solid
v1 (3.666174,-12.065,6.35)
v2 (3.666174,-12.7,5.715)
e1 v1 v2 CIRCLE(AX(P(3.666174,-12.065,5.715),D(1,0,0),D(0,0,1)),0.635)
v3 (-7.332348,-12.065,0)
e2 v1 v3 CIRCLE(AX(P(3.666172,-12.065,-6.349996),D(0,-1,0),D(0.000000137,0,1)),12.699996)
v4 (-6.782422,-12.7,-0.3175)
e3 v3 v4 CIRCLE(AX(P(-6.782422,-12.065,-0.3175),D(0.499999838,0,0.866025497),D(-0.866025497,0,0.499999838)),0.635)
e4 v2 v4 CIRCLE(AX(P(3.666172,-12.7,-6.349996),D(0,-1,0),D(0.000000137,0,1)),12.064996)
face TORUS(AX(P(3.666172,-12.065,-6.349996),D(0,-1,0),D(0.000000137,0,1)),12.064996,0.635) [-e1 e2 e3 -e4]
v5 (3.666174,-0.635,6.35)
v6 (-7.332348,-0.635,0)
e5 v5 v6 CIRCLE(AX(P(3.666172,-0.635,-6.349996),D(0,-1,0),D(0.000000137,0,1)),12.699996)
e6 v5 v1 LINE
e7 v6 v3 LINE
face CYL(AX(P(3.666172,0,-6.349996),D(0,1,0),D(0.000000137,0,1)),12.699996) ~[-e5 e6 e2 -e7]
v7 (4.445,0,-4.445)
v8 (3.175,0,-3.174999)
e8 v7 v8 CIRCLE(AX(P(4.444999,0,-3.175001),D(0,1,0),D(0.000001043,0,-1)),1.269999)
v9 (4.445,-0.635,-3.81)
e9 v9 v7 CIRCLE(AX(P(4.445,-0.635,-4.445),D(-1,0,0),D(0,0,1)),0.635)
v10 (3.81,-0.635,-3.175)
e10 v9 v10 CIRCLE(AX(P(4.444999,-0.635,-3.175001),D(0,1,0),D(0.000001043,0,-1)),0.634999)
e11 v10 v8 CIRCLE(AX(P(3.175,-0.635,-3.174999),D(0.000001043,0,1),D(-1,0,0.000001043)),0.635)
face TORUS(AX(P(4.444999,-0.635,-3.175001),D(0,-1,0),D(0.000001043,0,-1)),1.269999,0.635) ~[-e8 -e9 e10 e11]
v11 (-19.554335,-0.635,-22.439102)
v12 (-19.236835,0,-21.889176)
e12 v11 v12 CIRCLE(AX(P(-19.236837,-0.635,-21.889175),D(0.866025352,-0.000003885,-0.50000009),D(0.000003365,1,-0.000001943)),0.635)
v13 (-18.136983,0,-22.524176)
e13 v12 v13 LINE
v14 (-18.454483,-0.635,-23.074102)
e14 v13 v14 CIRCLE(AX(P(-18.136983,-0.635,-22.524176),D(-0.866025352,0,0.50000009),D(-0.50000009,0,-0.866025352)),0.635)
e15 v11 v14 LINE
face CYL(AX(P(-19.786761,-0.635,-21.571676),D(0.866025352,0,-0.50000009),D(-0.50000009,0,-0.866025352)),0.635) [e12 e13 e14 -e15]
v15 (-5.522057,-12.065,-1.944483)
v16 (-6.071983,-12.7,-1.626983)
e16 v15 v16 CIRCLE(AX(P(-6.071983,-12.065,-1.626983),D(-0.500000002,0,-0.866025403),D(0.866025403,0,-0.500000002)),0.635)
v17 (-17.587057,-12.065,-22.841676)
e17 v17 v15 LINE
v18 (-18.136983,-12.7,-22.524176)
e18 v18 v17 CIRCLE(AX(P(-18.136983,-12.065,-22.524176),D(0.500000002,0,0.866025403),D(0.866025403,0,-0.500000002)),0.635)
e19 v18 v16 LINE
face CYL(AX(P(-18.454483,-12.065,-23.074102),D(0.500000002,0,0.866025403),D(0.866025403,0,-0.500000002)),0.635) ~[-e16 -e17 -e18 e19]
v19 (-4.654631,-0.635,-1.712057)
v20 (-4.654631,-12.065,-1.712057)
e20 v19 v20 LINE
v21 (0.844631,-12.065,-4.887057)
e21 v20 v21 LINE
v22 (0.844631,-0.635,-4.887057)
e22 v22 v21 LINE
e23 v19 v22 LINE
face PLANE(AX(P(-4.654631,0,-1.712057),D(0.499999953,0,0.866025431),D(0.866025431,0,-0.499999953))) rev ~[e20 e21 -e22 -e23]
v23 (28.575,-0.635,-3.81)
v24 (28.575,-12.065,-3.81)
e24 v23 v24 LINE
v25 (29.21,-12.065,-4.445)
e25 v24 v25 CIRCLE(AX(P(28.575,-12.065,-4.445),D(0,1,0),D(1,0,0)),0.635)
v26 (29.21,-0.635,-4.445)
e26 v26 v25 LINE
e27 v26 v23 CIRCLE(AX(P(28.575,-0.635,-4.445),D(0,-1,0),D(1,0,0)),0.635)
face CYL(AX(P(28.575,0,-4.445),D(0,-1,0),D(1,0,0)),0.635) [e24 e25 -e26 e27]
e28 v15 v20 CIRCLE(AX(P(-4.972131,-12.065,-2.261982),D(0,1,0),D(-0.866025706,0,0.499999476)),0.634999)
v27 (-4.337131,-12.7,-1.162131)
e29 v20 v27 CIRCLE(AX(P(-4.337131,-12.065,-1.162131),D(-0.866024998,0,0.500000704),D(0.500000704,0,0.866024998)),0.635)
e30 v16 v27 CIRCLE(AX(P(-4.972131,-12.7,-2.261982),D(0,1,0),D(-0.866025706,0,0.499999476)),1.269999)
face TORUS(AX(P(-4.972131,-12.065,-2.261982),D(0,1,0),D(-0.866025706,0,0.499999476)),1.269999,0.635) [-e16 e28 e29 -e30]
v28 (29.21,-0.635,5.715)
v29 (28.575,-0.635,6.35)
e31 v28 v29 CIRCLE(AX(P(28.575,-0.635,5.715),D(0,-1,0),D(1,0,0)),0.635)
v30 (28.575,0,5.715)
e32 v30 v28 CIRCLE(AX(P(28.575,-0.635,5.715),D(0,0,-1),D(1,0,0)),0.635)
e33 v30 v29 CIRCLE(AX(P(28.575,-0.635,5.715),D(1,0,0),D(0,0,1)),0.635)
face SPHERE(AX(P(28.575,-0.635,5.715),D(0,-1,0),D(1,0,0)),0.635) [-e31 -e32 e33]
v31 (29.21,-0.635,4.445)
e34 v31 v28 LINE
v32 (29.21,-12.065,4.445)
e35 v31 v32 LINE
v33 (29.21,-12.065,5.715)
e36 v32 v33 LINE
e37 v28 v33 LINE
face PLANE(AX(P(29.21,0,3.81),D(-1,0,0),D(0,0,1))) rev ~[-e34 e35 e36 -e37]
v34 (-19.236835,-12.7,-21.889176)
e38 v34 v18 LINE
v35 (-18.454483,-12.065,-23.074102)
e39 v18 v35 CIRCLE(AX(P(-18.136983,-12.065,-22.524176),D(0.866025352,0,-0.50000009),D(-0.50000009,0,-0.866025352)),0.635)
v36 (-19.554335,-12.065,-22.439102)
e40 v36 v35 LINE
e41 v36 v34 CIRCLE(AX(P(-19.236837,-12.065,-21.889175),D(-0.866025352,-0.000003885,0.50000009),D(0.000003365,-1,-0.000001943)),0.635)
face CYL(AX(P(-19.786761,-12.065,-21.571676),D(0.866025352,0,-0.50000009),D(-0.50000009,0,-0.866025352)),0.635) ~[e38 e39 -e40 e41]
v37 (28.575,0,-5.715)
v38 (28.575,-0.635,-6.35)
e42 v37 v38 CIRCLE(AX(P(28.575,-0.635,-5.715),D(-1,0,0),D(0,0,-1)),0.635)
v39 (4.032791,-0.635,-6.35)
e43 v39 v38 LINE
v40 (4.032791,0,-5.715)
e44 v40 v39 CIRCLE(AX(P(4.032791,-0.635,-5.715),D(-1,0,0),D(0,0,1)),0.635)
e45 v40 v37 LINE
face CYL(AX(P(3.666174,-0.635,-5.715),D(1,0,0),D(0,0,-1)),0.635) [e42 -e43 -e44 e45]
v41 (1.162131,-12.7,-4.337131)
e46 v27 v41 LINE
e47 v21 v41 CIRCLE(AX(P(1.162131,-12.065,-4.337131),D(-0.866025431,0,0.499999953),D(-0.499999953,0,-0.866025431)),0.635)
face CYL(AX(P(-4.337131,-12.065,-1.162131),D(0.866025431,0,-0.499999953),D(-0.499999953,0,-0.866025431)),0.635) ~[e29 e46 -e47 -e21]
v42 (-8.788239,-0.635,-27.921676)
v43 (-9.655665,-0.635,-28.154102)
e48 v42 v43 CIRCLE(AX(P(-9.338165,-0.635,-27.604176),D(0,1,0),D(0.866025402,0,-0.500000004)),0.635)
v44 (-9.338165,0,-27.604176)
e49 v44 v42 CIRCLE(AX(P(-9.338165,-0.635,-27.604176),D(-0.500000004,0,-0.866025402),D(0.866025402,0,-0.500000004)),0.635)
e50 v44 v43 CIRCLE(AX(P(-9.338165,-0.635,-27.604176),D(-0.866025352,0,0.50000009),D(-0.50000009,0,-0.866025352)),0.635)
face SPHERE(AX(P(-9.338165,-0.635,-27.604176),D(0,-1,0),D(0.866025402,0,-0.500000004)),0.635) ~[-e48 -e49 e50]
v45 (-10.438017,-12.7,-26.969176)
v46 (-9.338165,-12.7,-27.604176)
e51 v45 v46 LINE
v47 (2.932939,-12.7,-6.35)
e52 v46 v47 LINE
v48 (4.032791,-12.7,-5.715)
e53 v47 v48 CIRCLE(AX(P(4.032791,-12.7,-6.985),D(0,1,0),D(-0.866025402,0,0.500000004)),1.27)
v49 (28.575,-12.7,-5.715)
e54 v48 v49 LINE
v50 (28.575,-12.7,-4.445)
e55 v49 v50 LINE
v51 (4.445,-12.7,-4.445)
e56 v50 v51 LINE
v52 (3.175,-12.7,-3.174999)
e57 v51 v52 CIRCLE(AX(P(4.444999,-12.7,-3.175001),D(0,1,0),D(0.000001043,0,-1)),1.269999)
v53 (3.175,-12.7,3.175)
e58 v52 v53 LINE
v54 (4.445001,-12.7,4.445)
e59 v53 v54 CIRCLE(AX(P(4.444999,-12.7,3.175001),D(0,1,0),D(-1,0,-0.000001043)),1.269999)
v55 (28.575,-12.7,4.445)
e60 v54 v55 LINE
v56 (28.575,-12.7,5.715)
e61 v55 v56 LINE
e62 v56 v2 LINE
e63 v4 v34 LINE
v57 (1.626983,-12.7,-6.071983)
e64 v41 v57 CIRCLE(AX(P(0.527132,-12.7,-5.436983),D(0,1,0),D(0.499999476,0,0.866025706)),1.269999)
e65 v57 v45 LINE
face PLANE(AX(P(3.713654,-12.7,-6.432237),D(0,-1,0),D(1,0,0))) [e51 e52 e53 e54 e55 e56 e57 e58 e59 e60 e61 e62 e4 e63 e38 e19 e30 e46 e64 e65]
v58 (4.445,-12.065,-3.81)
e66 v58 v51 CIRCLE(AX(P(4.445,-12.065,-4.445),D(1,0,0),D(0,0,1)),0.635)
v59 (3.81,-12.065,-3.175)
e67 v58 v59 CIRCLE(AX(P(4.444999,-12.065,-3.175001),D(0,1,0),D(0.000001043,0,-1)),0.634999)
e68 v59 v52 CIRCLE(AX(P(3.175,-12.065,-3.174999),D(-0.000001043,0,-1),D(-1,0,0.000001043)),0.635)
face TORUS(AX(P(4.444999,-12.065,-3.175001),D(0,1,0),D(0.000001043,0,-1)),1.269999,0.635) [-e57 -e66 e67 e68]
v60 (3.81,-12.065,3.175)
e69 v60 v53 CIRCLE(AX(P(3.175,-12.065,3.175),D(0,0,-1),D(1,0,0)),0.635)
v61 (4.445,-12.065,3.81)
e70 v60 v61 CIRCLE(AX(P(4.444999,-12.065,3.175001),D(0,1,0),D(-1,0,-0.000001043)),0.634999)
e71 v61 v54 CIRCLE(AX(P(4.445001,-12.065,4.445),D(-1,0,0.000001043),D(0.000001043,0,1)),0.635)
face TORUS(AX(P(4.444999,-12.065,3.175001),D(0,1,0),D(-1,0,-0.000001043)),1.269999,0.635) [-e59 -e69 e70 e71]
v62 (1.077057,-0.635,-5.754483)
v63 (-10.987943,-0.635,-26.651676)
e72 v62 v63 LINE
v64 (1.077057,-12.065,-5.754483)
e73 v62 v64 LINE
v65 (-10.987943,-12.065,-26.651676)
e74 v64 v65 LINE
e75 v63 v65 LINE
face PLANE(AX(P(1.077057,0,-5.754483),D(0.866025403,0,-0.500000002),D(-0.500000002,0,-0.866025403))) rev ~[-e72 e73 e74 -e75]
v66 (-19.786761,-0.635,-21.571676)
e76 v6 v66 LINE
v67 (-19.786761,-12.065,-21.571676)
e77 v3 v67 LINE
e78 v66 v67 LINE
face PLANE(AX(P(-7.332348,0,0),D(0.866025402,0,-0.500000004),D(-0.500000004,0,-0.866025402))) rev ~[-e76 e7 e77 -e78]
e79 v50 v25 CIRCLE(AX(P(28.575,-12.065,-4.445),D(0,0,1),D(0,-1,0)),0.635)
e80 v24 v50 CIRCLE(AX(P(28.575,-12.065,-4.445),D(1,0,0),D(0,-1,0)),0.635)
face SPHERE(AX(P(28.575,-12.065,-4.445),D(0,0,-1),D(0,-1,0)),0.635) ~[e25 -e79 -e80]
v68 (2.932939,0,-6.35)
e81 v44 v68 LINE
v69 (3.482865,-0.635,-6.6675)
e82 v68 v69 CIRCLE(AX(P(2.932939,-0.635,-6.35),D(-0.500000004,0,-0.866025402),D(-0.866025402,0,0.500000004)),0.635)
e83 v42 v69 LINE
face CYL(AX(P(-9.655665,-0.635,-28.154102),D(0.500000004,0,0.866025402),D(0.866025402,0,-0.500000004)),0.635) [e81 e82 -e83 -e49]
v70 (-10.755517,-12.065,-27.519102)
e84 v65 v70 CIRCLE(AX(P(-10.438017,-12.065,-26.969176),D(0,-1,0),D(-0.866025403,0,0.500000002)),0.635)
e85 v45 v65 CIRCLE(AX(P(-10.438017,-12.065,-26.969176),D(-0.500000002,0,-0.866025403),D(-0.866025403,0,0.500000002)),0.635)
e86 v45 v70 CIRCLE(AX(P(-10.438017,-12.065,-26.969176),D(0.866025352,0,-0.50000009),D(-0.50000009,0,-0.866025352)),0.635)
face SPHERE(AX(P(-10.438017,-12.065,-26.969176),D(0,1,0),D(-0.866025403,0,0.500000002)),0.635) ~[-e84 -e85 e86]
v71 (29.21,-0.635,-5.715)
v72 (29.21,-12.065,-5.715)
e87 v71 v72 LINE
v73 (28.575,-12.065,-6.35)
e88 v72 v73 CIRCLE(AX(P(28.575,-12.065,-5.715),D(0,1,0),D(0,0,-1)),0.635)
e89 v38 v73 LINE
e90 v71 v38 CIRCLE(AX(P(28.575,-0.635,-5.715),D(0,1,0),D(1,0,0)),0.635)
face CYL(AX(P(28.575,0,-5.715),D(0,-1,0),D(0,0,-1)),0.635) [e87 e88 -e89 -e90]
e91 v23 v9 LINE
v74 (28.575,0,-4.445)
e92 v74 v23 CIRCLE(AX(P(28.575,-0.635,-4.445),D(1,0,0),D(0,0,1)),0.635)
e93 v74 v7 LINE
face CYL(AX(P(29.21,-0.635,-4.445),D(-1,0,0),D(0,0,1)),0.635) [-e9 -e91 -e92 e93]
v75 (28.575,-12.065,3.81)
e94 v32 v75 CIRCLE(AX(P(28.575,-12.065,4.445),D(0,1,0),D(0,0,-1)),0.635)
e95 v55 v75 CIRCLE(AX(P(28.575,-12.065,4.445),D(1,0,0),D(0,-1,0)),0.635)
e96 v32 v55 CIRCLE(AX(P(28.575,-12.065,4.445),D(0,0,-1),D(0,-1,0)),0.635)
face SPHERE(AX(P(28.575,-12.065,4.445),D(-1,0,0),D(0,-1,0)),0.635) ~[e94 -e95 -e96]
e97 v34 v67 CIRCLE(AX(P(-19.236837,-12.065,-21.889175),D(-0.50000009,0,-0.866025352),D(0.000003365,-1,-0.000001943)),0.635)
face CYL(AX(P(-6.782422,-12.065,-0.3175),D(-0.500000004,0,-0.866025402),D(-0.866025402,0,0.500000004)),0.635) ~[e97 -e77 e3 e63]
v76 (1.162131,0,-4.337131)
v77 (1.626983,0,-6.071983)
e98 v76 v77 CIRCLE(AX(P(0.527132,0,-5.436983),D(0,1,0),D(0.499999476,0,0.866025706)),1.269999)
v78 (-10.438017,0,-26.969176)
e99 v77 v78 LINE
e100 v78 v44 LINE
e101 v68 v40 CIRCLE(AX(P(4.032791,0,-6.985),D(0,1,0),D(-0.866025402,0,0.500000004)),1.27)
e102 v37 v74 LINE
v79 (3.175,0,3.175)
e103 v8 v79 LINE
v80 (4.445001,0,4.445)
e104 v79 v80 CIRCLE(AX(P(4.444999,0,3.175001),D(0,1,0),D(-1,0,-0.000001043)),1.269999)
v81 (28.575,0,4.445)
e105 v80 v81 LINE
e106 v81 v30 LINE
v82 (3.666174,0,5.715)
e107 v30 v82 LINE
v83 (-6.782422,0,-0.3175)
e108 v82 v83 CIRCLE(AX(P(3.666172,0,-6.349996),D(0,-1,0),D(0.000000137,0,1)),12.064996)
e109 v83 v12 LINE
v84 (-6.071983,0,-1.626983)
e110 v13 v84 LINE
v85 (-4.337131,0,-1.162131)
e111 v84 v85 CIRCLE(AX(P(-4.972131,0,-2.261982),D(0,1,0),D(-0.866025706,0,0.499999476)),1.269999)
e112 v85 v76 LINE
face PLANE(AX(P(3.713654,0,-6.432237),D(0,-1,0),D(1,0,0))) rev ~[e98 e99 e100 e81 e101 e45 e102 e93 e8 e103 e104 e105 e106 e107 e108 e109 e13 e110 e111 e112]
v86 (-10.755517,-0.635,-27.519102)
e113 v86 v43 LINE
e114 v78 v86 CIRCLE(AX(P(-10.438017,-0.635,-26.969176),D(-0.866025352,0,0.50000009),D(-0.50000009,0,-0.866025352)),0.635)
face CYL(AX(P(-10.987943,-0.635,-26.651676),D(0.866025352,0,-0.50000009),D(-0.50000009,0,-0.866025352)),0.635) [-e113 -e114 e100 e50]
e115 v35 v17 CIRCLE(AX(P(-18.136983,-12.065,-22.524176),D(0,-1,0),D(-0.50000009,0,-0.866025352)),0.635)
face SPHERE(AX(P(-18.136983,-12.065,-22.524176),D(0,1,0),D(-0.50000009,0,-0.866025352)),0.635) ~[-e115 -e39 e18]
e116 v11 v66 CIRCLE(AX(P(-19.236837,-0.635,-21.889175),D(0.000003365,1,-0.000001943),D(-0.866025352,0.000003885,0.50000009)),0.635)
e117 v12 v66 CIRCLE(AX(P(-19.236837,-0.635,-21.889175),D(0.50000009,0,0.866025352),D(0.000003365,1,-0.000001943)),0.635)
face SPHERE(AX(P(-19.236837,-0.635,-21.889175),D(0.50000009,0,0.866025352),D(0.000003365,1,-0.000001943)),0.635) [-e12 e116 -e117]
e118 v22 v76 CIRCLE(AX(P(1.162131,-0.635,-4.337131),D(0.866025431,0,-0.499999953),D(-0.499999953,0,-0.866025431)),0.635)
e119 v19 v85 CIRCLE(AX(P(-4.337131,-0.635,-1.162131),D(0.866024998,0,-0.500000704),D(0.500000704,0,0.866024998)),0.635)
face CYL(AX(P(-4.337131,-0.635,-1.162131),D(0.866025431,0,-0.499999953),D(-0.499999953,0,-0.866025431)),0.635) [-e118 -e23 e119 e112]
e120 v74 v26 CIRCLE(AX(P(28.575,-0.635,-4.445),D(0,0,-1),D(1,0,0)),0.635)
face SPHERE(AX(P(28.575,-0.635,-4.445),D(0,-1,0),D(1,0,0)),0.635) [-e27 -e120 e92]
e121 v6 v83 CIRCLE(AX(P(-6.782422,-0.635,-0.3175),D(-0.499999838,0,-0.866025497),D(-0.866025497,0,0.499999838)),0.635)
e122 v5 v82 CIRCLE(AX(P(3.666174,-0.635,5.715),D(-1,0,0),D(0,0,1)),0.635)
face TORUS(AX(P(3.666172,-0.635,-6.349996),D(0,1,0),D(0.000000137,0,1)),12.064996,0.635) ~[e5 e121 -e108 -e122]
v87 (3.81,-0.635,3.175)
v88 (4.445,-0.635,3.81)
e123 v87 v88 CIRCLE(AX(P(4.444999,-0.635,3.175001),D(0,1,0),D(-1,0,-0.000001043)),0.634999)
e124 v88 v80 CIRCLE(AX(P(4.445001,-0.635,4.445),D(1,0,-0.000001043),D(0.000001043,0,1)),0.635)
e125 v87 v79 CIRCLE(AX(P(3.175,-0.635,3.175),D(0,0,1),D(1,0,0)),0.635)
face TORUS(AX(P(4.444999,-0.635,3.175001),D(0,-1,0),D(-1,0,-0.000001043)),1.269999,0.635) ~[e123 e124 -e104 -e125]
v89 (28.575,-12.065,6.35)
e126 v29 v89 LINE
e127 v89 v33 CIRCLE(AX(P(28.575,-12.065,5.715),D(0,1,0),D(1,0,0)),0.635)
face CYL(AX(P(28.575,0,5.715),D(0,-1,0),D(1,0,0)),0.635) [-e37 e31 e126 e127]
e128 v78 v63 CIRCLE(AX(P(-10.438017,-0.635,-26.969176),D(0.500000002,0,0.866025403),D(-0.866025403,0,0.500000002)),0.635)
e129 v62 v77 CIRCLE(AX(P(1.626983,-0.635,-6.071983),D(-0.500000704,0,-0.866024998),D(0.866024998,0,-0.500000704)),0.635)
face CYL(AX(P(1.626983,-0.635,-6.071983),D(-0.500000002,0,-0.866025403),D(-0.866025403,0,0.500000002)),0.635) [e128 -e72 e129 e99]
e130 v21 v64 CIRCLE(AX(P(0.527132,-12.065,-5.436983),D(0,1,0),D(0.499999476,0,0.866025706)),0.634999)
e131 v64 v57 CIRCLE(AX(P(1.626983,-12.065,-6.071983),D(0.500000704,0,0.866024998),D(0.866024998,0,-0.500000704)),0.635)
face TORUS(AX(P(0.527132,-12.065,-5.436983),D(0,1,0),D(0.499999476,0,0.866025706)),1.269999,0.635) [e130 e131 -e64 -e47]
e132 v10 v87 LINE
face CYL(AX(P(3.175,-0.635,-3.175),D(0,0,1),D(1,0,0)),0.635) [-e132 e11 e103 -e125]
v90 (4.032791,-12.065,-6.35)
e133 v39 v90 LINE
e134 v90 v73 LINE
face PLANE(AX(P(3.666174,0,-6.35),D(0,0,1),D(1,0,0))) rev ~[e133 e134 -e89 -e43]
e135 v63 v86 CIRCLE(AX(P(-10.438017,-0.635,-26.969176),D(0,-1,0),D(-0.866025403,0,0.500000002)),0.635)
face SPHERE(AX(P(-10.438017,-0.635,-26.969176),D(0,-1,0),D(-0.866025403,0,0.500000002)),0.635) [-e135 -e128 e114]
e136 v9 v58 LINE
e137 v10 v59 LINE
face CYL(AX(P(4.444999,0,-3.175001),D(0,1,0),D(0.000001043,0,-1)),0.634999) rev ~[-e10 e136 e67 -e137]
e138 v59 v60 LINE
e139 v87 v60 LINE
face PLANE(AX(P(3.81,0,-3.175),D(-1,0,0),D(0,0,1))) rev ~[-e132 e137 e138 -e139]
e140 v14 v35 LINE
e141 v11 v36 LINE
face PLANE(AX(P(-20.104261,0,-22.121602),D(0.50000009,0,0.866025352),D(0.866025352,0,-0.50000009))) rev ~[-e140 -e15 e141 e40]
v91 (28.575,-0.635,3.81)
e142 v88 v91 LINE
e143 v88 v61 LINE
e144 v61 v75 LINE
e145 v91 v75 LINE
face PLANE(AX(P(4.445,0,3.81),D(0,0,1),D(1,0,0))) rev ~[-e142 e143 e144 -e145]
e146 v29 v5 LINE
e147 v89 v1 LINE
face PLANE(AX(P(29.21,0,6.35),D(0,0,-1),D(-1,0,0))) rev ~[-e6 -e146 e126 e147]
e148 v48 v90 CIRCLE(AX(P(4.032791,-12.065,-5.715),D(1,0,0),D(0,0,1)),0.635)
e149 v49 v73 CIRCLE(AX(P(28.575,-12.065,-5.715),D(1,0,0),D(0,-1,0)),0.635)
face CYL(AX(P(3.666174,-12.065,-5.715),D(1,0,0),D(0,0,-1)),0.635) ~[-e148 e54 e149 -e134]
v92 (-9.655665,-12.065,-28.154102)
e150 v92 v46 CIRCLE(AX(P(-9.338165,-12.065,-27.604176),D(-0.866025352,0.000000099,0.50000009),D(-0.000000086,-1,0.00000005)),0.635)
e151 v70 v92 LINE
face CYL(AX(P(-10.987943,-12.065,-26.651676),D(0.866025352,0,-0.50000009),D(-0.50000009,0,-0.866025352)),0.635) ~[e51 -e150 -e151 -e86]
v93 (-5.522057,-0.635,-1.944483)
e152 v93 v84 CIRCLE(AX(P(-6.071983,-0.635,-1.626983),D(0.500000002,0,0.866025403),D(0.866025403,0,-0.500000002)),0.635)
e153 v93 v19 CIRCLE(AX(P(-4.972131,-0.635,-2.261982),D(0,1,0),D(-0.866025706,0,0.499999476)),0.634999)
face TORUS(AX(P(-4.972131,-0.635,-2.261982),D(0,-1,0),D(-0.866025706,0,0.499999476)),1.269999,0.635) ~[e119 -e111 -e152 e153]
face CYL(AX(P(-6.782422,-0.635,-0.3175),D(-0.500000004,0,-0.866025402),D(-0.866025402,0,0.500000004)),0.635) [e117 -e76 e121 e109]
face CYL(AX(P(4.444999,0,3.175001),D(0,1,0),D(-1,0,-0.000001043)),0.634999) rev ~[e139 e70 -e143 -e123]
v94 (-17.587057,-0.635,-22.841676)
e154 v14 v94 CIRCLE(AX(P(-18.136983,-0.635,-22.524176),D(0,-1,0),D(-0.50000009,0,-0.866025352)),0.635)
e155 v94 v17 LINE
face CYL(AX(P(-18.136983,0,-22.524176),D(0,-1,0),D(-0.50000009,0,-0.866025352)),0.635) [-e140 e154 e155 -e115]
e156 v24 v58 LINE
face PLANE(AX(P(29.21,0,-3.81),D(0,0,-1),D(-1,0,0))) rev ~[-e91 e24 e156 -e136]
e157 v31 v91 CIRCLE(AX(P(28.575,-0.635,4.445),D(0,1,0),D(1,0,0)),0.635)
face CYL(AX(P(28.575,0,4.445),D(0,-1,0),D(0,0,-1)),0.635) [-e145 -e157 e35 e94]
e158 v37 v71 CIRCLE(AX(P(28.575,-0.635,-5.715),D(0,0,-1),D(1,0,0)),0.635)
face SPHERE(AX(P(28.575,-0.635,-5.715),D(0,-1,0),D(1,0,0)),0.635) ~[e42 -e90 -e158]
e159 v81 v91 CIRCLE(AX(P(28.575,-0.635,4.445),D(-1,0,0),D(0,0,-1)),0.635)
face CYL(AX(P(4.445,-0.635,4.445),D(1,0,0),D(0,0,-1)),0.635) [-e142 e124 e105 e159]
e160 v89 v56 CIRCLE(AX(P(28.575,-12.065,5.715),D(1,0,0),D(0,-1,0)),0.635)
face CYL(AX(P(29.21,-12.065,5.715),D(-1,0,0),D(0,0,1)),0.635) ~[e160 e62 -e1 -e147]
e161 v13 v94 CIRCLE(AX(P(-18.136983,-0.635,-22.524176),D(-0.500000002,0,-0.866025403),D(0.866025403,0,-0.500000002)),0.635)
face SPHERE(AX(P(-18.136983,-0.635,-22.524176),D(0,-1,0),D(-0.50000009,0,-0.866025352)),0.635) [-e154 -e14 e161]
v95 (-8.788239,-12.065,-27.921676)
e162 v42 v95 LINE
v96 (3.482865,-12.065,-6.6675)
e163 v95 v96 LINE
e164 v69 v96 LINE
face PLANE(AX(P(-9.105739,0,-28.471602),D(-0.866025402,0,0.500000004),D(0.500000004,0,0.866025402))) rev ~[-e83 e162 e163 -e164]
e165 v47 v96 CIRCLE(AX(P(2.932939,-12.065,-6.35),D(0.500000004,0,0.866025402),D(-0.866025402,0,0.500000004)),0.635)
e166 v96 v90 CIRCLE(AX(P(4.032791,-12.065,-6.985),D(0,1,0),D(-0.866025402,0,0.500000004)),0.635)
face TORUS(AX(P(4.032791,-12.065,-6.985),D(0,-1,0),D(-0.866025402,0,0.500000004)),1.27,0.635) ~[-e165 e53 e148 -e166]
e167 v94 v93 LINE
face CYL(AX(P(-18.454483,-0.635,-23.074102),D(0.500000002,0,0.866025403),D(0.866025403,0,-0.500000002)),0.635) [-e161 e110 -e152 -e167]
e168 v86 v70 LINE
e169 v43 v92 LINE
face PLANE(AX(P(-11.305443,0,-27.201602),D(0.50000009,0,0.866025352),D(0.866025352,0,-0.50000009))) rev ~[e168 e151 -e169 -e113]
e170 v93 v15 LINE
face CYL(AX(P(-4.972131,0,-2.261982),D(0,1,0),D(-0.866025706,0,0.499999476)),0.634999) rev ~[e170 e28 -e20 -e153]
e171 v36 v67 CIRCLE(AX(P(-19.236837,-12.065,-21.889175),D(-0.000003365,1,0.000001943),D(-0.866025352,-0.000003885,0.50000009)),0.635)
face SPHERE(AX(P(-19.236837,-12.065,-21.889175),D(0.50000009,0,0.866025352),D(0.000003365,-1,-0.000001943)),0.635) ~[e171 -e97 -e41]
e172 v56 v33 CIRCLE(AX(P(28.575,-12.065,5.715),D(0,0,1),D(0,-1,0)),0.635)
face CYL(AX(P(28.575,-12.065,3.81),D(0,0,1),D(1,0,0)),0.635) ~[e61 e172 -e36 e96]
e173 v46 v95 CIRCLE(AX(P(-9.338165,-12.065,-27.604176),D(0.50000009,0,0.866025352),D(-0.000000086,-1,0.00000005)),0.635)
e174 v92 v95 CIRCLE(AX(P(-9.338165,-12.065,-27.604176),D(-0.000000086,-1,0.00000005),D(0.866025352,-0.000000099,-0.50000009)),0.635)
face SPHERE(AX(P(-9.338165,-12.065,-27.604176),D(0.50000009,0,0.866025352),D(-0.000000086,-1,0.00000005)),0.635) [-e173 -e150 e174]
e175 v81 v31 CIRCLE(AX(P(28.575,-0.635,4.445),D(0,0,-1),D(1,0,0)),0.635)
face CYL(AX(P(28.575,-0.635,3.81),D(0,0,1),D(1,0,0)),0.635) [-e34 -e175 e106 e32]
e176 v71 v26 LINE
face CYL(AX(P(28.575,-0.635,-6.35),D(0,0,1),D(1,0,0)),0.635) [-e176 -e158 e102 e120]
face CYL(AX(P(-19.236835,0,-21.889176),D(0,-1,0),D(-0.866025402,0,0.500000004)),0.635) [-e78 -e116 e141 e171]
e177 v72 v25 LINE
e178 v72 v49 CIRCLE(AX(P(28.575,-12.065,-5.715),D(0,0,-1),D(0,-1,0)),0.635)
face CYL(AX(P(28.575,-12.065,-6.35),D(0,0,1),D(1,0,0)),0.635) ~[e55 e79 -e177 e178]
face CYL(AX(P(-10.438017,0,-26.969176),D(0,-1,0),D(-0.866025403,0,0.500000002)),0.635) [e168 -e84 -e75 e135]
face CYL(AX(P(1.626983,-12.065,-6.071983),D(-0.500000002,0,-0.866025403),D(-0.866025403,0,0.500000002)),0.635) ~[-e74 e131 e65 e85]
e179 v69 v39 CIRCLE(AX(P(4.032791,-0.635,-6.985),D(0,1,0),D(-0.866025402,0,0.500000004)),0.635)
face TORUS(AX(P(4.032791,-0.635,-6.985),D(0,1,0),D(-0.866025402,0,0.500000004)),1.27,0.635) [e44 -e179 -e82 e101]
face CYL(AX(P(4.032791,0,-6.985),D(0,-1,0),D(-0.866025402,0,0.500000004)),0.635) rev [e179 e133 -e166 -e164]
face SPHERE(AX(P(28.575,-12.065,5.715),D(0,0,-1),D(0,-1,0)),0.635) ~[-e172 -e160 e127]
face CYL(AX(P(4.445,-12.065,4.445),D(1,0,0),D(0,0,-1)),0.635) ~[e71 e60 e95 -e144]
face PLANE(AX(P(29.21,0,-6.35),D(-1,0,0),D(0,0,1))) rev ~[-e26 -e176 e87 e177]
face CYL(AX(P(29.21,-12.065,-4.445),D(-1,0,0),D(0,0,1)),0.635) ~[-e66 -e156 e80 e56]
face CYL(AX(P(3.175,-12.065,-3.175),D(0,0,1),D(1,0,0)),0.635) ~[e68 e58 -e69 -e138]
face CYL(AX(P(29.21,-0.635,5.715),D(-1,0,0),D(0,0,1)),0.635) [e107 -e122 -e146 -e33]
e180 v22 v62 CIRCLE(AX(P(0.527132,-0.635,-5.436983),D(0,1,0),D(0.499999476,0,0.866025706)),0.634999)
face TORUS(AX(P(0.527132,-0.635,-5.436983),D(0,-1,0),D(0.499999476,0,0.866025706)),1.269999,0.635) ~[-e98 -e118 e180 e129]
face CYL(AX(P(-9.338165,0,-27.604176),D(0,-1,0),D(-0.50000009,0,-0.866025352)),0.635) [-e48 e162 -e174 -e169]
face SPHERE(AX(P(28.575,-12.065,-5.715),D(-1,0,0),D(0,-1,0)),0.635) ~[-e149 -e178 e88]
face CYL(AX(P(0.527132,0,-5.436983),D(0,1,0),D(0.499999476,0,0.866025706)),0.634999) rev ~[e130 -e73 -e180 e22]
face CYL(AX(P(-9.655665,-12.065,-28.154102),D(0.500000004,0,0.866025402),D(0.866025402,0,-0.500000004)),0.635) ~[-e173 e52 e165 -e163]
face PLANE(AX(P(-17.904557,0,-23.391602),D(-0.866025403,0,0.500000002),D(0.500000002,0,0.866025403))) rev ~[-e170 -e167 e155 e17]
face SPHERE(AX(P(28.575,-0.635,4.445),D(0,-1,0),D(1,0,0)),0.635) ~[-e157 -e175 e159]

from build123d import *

# Parameters (mm, degrees)
F1_DEPTH = 12.7
F2_R     = 0.635


with BuildPart() as f1:
    # F0 (on Front) → F1 (new body)
    with BuildSketch(Plane.XZ):
        with BuildLine():
            Line((4.445, 3.81), (29.21, 3.81))
            Line((29.21, 3.81), (29.21, 6.35))
            Line((29.21, 6.35), (3.666174, 6.35))
            ThreePointArc((3.666174, 6.35), (-2.683826, 4.648523), (-7.332348, 0))
            Line((-7.332348, 0), (-20.104261, -22.121602))
            Line((-20.104261, -22.121602), (-17.904557, -23.391602))
            Line((-17.904557, -23.391602), (-5.522057, -1.944483))
            ThreePointArc((-5.522057, -1.944483), (-5.136481, -1.64862), (-4.654631, -1.712057))
            Line((-4.654631, -1.712057), (0.844631, -4.887057))
            ThreePointArc((0.844631, -4.887057), (1.140494, -5.272633), (1.077057, -5.754483))
            Line((1.077057, -5.754483), (-11.305443, -27.201602))
            Line((-11.305443, -27.201602), (-9.105739, -28.471602))
            Line((-9.105739, -28.471602), (3.666174, -6.35))
            Line((3.666174, -6.35), (29.21, -6.35))
            Line((29.21, -6.35), (29.21, -3.81))
            Line((29.21, -3.81), (4.445, -3.81))
            ThreePointArc((4.445, -3.81), (3.995987, -3.624013), (3.81, -3.175))
            Line((3.81, -3.175), (3.81, 3.175))
            ThreePointArc((3.81, 3.175), (3.995987, 3.624013), (4.445, 3.81))
        make_face()
    extrude(amount=F1_DEPTH)

    # F2
    f2_edges = [f1.edges().sort_by_distance(p)[0] for p in [
        (-2.719782, -12.7, -17.410801),
        (16.438087, -12.7, -6.35),
        (29.21, -12.7, -5.08),
        (16.8275, -12.7, -3.81),
        (3.995987, -12.7, -3.624013),
        (3.81, -12.7, 0),
        (3.995987, -12.7, 3.624013),
        (16.8275, -12.7, 3.81),
        (29.21, -12.7, 5.08),
        (16.438087, -12.7, 6.35),
        (-2.683826, -12.7, 4.648523),
        (-13.718305, -12.7, -11.060801),
        (-19.004409, -12.7, -22.756602),
        (-11.713307, -12.7, -12.668042),
        (-5.136481, -12.7, -1.64862),
        (-1.905, -12.7, -3.299557),
        (1.140494, -12.7, -5.272633),
        (-5.114193, -12.7, -16.478042),
        (-10.205591, -12.7, -27.836602),
        (29.21, -6.35, 3.81),
        (29.21, -6.35, 6.35),
        (29.21, 0, 5.08),
        (29.21, -6.35, -6.35),
        (29.21, -6.35, -3.81),
        (29.21, 0, -5.08),
        (-9.105739, -6.35, -28.471602),
        (3.666174, -6.35, -6.35),
        (-2.719782, 0, -17.410801),
        (16.438087, 0, -6.35),
        (16.8275, 0, -3.81),
        (3.995987, 0, -3.624013),
        (3.81, 0, 0),
        (3.995987, 0, 3.624013),
        (16.8275, 0, 3.81),
        (16.438087, 0, 6.35),
        (-2.683826, 0, 4.648523),
        (-13.718305, 0, -11.060801),
        (-19.004409, 0, -22.756602),
        (-11.713307, 0, -12.668042),
        (-5.136481, 0, -1.64862),
        (-1.905, 0, -3.299557),
        (1.140494, 0, -5.272633),
        (-5.114193, 0, -16.478042),
        (-10.205591, 0, -27.836602),
        (-11.305443, -6.35, -27.201602),
        (-20.104261, -6.35, -22.121602),
        (-17.904557, -6.35, -23.391602),
    ]]
    fillet(f2_edges, radius=F2_R)


solid = f1.part
